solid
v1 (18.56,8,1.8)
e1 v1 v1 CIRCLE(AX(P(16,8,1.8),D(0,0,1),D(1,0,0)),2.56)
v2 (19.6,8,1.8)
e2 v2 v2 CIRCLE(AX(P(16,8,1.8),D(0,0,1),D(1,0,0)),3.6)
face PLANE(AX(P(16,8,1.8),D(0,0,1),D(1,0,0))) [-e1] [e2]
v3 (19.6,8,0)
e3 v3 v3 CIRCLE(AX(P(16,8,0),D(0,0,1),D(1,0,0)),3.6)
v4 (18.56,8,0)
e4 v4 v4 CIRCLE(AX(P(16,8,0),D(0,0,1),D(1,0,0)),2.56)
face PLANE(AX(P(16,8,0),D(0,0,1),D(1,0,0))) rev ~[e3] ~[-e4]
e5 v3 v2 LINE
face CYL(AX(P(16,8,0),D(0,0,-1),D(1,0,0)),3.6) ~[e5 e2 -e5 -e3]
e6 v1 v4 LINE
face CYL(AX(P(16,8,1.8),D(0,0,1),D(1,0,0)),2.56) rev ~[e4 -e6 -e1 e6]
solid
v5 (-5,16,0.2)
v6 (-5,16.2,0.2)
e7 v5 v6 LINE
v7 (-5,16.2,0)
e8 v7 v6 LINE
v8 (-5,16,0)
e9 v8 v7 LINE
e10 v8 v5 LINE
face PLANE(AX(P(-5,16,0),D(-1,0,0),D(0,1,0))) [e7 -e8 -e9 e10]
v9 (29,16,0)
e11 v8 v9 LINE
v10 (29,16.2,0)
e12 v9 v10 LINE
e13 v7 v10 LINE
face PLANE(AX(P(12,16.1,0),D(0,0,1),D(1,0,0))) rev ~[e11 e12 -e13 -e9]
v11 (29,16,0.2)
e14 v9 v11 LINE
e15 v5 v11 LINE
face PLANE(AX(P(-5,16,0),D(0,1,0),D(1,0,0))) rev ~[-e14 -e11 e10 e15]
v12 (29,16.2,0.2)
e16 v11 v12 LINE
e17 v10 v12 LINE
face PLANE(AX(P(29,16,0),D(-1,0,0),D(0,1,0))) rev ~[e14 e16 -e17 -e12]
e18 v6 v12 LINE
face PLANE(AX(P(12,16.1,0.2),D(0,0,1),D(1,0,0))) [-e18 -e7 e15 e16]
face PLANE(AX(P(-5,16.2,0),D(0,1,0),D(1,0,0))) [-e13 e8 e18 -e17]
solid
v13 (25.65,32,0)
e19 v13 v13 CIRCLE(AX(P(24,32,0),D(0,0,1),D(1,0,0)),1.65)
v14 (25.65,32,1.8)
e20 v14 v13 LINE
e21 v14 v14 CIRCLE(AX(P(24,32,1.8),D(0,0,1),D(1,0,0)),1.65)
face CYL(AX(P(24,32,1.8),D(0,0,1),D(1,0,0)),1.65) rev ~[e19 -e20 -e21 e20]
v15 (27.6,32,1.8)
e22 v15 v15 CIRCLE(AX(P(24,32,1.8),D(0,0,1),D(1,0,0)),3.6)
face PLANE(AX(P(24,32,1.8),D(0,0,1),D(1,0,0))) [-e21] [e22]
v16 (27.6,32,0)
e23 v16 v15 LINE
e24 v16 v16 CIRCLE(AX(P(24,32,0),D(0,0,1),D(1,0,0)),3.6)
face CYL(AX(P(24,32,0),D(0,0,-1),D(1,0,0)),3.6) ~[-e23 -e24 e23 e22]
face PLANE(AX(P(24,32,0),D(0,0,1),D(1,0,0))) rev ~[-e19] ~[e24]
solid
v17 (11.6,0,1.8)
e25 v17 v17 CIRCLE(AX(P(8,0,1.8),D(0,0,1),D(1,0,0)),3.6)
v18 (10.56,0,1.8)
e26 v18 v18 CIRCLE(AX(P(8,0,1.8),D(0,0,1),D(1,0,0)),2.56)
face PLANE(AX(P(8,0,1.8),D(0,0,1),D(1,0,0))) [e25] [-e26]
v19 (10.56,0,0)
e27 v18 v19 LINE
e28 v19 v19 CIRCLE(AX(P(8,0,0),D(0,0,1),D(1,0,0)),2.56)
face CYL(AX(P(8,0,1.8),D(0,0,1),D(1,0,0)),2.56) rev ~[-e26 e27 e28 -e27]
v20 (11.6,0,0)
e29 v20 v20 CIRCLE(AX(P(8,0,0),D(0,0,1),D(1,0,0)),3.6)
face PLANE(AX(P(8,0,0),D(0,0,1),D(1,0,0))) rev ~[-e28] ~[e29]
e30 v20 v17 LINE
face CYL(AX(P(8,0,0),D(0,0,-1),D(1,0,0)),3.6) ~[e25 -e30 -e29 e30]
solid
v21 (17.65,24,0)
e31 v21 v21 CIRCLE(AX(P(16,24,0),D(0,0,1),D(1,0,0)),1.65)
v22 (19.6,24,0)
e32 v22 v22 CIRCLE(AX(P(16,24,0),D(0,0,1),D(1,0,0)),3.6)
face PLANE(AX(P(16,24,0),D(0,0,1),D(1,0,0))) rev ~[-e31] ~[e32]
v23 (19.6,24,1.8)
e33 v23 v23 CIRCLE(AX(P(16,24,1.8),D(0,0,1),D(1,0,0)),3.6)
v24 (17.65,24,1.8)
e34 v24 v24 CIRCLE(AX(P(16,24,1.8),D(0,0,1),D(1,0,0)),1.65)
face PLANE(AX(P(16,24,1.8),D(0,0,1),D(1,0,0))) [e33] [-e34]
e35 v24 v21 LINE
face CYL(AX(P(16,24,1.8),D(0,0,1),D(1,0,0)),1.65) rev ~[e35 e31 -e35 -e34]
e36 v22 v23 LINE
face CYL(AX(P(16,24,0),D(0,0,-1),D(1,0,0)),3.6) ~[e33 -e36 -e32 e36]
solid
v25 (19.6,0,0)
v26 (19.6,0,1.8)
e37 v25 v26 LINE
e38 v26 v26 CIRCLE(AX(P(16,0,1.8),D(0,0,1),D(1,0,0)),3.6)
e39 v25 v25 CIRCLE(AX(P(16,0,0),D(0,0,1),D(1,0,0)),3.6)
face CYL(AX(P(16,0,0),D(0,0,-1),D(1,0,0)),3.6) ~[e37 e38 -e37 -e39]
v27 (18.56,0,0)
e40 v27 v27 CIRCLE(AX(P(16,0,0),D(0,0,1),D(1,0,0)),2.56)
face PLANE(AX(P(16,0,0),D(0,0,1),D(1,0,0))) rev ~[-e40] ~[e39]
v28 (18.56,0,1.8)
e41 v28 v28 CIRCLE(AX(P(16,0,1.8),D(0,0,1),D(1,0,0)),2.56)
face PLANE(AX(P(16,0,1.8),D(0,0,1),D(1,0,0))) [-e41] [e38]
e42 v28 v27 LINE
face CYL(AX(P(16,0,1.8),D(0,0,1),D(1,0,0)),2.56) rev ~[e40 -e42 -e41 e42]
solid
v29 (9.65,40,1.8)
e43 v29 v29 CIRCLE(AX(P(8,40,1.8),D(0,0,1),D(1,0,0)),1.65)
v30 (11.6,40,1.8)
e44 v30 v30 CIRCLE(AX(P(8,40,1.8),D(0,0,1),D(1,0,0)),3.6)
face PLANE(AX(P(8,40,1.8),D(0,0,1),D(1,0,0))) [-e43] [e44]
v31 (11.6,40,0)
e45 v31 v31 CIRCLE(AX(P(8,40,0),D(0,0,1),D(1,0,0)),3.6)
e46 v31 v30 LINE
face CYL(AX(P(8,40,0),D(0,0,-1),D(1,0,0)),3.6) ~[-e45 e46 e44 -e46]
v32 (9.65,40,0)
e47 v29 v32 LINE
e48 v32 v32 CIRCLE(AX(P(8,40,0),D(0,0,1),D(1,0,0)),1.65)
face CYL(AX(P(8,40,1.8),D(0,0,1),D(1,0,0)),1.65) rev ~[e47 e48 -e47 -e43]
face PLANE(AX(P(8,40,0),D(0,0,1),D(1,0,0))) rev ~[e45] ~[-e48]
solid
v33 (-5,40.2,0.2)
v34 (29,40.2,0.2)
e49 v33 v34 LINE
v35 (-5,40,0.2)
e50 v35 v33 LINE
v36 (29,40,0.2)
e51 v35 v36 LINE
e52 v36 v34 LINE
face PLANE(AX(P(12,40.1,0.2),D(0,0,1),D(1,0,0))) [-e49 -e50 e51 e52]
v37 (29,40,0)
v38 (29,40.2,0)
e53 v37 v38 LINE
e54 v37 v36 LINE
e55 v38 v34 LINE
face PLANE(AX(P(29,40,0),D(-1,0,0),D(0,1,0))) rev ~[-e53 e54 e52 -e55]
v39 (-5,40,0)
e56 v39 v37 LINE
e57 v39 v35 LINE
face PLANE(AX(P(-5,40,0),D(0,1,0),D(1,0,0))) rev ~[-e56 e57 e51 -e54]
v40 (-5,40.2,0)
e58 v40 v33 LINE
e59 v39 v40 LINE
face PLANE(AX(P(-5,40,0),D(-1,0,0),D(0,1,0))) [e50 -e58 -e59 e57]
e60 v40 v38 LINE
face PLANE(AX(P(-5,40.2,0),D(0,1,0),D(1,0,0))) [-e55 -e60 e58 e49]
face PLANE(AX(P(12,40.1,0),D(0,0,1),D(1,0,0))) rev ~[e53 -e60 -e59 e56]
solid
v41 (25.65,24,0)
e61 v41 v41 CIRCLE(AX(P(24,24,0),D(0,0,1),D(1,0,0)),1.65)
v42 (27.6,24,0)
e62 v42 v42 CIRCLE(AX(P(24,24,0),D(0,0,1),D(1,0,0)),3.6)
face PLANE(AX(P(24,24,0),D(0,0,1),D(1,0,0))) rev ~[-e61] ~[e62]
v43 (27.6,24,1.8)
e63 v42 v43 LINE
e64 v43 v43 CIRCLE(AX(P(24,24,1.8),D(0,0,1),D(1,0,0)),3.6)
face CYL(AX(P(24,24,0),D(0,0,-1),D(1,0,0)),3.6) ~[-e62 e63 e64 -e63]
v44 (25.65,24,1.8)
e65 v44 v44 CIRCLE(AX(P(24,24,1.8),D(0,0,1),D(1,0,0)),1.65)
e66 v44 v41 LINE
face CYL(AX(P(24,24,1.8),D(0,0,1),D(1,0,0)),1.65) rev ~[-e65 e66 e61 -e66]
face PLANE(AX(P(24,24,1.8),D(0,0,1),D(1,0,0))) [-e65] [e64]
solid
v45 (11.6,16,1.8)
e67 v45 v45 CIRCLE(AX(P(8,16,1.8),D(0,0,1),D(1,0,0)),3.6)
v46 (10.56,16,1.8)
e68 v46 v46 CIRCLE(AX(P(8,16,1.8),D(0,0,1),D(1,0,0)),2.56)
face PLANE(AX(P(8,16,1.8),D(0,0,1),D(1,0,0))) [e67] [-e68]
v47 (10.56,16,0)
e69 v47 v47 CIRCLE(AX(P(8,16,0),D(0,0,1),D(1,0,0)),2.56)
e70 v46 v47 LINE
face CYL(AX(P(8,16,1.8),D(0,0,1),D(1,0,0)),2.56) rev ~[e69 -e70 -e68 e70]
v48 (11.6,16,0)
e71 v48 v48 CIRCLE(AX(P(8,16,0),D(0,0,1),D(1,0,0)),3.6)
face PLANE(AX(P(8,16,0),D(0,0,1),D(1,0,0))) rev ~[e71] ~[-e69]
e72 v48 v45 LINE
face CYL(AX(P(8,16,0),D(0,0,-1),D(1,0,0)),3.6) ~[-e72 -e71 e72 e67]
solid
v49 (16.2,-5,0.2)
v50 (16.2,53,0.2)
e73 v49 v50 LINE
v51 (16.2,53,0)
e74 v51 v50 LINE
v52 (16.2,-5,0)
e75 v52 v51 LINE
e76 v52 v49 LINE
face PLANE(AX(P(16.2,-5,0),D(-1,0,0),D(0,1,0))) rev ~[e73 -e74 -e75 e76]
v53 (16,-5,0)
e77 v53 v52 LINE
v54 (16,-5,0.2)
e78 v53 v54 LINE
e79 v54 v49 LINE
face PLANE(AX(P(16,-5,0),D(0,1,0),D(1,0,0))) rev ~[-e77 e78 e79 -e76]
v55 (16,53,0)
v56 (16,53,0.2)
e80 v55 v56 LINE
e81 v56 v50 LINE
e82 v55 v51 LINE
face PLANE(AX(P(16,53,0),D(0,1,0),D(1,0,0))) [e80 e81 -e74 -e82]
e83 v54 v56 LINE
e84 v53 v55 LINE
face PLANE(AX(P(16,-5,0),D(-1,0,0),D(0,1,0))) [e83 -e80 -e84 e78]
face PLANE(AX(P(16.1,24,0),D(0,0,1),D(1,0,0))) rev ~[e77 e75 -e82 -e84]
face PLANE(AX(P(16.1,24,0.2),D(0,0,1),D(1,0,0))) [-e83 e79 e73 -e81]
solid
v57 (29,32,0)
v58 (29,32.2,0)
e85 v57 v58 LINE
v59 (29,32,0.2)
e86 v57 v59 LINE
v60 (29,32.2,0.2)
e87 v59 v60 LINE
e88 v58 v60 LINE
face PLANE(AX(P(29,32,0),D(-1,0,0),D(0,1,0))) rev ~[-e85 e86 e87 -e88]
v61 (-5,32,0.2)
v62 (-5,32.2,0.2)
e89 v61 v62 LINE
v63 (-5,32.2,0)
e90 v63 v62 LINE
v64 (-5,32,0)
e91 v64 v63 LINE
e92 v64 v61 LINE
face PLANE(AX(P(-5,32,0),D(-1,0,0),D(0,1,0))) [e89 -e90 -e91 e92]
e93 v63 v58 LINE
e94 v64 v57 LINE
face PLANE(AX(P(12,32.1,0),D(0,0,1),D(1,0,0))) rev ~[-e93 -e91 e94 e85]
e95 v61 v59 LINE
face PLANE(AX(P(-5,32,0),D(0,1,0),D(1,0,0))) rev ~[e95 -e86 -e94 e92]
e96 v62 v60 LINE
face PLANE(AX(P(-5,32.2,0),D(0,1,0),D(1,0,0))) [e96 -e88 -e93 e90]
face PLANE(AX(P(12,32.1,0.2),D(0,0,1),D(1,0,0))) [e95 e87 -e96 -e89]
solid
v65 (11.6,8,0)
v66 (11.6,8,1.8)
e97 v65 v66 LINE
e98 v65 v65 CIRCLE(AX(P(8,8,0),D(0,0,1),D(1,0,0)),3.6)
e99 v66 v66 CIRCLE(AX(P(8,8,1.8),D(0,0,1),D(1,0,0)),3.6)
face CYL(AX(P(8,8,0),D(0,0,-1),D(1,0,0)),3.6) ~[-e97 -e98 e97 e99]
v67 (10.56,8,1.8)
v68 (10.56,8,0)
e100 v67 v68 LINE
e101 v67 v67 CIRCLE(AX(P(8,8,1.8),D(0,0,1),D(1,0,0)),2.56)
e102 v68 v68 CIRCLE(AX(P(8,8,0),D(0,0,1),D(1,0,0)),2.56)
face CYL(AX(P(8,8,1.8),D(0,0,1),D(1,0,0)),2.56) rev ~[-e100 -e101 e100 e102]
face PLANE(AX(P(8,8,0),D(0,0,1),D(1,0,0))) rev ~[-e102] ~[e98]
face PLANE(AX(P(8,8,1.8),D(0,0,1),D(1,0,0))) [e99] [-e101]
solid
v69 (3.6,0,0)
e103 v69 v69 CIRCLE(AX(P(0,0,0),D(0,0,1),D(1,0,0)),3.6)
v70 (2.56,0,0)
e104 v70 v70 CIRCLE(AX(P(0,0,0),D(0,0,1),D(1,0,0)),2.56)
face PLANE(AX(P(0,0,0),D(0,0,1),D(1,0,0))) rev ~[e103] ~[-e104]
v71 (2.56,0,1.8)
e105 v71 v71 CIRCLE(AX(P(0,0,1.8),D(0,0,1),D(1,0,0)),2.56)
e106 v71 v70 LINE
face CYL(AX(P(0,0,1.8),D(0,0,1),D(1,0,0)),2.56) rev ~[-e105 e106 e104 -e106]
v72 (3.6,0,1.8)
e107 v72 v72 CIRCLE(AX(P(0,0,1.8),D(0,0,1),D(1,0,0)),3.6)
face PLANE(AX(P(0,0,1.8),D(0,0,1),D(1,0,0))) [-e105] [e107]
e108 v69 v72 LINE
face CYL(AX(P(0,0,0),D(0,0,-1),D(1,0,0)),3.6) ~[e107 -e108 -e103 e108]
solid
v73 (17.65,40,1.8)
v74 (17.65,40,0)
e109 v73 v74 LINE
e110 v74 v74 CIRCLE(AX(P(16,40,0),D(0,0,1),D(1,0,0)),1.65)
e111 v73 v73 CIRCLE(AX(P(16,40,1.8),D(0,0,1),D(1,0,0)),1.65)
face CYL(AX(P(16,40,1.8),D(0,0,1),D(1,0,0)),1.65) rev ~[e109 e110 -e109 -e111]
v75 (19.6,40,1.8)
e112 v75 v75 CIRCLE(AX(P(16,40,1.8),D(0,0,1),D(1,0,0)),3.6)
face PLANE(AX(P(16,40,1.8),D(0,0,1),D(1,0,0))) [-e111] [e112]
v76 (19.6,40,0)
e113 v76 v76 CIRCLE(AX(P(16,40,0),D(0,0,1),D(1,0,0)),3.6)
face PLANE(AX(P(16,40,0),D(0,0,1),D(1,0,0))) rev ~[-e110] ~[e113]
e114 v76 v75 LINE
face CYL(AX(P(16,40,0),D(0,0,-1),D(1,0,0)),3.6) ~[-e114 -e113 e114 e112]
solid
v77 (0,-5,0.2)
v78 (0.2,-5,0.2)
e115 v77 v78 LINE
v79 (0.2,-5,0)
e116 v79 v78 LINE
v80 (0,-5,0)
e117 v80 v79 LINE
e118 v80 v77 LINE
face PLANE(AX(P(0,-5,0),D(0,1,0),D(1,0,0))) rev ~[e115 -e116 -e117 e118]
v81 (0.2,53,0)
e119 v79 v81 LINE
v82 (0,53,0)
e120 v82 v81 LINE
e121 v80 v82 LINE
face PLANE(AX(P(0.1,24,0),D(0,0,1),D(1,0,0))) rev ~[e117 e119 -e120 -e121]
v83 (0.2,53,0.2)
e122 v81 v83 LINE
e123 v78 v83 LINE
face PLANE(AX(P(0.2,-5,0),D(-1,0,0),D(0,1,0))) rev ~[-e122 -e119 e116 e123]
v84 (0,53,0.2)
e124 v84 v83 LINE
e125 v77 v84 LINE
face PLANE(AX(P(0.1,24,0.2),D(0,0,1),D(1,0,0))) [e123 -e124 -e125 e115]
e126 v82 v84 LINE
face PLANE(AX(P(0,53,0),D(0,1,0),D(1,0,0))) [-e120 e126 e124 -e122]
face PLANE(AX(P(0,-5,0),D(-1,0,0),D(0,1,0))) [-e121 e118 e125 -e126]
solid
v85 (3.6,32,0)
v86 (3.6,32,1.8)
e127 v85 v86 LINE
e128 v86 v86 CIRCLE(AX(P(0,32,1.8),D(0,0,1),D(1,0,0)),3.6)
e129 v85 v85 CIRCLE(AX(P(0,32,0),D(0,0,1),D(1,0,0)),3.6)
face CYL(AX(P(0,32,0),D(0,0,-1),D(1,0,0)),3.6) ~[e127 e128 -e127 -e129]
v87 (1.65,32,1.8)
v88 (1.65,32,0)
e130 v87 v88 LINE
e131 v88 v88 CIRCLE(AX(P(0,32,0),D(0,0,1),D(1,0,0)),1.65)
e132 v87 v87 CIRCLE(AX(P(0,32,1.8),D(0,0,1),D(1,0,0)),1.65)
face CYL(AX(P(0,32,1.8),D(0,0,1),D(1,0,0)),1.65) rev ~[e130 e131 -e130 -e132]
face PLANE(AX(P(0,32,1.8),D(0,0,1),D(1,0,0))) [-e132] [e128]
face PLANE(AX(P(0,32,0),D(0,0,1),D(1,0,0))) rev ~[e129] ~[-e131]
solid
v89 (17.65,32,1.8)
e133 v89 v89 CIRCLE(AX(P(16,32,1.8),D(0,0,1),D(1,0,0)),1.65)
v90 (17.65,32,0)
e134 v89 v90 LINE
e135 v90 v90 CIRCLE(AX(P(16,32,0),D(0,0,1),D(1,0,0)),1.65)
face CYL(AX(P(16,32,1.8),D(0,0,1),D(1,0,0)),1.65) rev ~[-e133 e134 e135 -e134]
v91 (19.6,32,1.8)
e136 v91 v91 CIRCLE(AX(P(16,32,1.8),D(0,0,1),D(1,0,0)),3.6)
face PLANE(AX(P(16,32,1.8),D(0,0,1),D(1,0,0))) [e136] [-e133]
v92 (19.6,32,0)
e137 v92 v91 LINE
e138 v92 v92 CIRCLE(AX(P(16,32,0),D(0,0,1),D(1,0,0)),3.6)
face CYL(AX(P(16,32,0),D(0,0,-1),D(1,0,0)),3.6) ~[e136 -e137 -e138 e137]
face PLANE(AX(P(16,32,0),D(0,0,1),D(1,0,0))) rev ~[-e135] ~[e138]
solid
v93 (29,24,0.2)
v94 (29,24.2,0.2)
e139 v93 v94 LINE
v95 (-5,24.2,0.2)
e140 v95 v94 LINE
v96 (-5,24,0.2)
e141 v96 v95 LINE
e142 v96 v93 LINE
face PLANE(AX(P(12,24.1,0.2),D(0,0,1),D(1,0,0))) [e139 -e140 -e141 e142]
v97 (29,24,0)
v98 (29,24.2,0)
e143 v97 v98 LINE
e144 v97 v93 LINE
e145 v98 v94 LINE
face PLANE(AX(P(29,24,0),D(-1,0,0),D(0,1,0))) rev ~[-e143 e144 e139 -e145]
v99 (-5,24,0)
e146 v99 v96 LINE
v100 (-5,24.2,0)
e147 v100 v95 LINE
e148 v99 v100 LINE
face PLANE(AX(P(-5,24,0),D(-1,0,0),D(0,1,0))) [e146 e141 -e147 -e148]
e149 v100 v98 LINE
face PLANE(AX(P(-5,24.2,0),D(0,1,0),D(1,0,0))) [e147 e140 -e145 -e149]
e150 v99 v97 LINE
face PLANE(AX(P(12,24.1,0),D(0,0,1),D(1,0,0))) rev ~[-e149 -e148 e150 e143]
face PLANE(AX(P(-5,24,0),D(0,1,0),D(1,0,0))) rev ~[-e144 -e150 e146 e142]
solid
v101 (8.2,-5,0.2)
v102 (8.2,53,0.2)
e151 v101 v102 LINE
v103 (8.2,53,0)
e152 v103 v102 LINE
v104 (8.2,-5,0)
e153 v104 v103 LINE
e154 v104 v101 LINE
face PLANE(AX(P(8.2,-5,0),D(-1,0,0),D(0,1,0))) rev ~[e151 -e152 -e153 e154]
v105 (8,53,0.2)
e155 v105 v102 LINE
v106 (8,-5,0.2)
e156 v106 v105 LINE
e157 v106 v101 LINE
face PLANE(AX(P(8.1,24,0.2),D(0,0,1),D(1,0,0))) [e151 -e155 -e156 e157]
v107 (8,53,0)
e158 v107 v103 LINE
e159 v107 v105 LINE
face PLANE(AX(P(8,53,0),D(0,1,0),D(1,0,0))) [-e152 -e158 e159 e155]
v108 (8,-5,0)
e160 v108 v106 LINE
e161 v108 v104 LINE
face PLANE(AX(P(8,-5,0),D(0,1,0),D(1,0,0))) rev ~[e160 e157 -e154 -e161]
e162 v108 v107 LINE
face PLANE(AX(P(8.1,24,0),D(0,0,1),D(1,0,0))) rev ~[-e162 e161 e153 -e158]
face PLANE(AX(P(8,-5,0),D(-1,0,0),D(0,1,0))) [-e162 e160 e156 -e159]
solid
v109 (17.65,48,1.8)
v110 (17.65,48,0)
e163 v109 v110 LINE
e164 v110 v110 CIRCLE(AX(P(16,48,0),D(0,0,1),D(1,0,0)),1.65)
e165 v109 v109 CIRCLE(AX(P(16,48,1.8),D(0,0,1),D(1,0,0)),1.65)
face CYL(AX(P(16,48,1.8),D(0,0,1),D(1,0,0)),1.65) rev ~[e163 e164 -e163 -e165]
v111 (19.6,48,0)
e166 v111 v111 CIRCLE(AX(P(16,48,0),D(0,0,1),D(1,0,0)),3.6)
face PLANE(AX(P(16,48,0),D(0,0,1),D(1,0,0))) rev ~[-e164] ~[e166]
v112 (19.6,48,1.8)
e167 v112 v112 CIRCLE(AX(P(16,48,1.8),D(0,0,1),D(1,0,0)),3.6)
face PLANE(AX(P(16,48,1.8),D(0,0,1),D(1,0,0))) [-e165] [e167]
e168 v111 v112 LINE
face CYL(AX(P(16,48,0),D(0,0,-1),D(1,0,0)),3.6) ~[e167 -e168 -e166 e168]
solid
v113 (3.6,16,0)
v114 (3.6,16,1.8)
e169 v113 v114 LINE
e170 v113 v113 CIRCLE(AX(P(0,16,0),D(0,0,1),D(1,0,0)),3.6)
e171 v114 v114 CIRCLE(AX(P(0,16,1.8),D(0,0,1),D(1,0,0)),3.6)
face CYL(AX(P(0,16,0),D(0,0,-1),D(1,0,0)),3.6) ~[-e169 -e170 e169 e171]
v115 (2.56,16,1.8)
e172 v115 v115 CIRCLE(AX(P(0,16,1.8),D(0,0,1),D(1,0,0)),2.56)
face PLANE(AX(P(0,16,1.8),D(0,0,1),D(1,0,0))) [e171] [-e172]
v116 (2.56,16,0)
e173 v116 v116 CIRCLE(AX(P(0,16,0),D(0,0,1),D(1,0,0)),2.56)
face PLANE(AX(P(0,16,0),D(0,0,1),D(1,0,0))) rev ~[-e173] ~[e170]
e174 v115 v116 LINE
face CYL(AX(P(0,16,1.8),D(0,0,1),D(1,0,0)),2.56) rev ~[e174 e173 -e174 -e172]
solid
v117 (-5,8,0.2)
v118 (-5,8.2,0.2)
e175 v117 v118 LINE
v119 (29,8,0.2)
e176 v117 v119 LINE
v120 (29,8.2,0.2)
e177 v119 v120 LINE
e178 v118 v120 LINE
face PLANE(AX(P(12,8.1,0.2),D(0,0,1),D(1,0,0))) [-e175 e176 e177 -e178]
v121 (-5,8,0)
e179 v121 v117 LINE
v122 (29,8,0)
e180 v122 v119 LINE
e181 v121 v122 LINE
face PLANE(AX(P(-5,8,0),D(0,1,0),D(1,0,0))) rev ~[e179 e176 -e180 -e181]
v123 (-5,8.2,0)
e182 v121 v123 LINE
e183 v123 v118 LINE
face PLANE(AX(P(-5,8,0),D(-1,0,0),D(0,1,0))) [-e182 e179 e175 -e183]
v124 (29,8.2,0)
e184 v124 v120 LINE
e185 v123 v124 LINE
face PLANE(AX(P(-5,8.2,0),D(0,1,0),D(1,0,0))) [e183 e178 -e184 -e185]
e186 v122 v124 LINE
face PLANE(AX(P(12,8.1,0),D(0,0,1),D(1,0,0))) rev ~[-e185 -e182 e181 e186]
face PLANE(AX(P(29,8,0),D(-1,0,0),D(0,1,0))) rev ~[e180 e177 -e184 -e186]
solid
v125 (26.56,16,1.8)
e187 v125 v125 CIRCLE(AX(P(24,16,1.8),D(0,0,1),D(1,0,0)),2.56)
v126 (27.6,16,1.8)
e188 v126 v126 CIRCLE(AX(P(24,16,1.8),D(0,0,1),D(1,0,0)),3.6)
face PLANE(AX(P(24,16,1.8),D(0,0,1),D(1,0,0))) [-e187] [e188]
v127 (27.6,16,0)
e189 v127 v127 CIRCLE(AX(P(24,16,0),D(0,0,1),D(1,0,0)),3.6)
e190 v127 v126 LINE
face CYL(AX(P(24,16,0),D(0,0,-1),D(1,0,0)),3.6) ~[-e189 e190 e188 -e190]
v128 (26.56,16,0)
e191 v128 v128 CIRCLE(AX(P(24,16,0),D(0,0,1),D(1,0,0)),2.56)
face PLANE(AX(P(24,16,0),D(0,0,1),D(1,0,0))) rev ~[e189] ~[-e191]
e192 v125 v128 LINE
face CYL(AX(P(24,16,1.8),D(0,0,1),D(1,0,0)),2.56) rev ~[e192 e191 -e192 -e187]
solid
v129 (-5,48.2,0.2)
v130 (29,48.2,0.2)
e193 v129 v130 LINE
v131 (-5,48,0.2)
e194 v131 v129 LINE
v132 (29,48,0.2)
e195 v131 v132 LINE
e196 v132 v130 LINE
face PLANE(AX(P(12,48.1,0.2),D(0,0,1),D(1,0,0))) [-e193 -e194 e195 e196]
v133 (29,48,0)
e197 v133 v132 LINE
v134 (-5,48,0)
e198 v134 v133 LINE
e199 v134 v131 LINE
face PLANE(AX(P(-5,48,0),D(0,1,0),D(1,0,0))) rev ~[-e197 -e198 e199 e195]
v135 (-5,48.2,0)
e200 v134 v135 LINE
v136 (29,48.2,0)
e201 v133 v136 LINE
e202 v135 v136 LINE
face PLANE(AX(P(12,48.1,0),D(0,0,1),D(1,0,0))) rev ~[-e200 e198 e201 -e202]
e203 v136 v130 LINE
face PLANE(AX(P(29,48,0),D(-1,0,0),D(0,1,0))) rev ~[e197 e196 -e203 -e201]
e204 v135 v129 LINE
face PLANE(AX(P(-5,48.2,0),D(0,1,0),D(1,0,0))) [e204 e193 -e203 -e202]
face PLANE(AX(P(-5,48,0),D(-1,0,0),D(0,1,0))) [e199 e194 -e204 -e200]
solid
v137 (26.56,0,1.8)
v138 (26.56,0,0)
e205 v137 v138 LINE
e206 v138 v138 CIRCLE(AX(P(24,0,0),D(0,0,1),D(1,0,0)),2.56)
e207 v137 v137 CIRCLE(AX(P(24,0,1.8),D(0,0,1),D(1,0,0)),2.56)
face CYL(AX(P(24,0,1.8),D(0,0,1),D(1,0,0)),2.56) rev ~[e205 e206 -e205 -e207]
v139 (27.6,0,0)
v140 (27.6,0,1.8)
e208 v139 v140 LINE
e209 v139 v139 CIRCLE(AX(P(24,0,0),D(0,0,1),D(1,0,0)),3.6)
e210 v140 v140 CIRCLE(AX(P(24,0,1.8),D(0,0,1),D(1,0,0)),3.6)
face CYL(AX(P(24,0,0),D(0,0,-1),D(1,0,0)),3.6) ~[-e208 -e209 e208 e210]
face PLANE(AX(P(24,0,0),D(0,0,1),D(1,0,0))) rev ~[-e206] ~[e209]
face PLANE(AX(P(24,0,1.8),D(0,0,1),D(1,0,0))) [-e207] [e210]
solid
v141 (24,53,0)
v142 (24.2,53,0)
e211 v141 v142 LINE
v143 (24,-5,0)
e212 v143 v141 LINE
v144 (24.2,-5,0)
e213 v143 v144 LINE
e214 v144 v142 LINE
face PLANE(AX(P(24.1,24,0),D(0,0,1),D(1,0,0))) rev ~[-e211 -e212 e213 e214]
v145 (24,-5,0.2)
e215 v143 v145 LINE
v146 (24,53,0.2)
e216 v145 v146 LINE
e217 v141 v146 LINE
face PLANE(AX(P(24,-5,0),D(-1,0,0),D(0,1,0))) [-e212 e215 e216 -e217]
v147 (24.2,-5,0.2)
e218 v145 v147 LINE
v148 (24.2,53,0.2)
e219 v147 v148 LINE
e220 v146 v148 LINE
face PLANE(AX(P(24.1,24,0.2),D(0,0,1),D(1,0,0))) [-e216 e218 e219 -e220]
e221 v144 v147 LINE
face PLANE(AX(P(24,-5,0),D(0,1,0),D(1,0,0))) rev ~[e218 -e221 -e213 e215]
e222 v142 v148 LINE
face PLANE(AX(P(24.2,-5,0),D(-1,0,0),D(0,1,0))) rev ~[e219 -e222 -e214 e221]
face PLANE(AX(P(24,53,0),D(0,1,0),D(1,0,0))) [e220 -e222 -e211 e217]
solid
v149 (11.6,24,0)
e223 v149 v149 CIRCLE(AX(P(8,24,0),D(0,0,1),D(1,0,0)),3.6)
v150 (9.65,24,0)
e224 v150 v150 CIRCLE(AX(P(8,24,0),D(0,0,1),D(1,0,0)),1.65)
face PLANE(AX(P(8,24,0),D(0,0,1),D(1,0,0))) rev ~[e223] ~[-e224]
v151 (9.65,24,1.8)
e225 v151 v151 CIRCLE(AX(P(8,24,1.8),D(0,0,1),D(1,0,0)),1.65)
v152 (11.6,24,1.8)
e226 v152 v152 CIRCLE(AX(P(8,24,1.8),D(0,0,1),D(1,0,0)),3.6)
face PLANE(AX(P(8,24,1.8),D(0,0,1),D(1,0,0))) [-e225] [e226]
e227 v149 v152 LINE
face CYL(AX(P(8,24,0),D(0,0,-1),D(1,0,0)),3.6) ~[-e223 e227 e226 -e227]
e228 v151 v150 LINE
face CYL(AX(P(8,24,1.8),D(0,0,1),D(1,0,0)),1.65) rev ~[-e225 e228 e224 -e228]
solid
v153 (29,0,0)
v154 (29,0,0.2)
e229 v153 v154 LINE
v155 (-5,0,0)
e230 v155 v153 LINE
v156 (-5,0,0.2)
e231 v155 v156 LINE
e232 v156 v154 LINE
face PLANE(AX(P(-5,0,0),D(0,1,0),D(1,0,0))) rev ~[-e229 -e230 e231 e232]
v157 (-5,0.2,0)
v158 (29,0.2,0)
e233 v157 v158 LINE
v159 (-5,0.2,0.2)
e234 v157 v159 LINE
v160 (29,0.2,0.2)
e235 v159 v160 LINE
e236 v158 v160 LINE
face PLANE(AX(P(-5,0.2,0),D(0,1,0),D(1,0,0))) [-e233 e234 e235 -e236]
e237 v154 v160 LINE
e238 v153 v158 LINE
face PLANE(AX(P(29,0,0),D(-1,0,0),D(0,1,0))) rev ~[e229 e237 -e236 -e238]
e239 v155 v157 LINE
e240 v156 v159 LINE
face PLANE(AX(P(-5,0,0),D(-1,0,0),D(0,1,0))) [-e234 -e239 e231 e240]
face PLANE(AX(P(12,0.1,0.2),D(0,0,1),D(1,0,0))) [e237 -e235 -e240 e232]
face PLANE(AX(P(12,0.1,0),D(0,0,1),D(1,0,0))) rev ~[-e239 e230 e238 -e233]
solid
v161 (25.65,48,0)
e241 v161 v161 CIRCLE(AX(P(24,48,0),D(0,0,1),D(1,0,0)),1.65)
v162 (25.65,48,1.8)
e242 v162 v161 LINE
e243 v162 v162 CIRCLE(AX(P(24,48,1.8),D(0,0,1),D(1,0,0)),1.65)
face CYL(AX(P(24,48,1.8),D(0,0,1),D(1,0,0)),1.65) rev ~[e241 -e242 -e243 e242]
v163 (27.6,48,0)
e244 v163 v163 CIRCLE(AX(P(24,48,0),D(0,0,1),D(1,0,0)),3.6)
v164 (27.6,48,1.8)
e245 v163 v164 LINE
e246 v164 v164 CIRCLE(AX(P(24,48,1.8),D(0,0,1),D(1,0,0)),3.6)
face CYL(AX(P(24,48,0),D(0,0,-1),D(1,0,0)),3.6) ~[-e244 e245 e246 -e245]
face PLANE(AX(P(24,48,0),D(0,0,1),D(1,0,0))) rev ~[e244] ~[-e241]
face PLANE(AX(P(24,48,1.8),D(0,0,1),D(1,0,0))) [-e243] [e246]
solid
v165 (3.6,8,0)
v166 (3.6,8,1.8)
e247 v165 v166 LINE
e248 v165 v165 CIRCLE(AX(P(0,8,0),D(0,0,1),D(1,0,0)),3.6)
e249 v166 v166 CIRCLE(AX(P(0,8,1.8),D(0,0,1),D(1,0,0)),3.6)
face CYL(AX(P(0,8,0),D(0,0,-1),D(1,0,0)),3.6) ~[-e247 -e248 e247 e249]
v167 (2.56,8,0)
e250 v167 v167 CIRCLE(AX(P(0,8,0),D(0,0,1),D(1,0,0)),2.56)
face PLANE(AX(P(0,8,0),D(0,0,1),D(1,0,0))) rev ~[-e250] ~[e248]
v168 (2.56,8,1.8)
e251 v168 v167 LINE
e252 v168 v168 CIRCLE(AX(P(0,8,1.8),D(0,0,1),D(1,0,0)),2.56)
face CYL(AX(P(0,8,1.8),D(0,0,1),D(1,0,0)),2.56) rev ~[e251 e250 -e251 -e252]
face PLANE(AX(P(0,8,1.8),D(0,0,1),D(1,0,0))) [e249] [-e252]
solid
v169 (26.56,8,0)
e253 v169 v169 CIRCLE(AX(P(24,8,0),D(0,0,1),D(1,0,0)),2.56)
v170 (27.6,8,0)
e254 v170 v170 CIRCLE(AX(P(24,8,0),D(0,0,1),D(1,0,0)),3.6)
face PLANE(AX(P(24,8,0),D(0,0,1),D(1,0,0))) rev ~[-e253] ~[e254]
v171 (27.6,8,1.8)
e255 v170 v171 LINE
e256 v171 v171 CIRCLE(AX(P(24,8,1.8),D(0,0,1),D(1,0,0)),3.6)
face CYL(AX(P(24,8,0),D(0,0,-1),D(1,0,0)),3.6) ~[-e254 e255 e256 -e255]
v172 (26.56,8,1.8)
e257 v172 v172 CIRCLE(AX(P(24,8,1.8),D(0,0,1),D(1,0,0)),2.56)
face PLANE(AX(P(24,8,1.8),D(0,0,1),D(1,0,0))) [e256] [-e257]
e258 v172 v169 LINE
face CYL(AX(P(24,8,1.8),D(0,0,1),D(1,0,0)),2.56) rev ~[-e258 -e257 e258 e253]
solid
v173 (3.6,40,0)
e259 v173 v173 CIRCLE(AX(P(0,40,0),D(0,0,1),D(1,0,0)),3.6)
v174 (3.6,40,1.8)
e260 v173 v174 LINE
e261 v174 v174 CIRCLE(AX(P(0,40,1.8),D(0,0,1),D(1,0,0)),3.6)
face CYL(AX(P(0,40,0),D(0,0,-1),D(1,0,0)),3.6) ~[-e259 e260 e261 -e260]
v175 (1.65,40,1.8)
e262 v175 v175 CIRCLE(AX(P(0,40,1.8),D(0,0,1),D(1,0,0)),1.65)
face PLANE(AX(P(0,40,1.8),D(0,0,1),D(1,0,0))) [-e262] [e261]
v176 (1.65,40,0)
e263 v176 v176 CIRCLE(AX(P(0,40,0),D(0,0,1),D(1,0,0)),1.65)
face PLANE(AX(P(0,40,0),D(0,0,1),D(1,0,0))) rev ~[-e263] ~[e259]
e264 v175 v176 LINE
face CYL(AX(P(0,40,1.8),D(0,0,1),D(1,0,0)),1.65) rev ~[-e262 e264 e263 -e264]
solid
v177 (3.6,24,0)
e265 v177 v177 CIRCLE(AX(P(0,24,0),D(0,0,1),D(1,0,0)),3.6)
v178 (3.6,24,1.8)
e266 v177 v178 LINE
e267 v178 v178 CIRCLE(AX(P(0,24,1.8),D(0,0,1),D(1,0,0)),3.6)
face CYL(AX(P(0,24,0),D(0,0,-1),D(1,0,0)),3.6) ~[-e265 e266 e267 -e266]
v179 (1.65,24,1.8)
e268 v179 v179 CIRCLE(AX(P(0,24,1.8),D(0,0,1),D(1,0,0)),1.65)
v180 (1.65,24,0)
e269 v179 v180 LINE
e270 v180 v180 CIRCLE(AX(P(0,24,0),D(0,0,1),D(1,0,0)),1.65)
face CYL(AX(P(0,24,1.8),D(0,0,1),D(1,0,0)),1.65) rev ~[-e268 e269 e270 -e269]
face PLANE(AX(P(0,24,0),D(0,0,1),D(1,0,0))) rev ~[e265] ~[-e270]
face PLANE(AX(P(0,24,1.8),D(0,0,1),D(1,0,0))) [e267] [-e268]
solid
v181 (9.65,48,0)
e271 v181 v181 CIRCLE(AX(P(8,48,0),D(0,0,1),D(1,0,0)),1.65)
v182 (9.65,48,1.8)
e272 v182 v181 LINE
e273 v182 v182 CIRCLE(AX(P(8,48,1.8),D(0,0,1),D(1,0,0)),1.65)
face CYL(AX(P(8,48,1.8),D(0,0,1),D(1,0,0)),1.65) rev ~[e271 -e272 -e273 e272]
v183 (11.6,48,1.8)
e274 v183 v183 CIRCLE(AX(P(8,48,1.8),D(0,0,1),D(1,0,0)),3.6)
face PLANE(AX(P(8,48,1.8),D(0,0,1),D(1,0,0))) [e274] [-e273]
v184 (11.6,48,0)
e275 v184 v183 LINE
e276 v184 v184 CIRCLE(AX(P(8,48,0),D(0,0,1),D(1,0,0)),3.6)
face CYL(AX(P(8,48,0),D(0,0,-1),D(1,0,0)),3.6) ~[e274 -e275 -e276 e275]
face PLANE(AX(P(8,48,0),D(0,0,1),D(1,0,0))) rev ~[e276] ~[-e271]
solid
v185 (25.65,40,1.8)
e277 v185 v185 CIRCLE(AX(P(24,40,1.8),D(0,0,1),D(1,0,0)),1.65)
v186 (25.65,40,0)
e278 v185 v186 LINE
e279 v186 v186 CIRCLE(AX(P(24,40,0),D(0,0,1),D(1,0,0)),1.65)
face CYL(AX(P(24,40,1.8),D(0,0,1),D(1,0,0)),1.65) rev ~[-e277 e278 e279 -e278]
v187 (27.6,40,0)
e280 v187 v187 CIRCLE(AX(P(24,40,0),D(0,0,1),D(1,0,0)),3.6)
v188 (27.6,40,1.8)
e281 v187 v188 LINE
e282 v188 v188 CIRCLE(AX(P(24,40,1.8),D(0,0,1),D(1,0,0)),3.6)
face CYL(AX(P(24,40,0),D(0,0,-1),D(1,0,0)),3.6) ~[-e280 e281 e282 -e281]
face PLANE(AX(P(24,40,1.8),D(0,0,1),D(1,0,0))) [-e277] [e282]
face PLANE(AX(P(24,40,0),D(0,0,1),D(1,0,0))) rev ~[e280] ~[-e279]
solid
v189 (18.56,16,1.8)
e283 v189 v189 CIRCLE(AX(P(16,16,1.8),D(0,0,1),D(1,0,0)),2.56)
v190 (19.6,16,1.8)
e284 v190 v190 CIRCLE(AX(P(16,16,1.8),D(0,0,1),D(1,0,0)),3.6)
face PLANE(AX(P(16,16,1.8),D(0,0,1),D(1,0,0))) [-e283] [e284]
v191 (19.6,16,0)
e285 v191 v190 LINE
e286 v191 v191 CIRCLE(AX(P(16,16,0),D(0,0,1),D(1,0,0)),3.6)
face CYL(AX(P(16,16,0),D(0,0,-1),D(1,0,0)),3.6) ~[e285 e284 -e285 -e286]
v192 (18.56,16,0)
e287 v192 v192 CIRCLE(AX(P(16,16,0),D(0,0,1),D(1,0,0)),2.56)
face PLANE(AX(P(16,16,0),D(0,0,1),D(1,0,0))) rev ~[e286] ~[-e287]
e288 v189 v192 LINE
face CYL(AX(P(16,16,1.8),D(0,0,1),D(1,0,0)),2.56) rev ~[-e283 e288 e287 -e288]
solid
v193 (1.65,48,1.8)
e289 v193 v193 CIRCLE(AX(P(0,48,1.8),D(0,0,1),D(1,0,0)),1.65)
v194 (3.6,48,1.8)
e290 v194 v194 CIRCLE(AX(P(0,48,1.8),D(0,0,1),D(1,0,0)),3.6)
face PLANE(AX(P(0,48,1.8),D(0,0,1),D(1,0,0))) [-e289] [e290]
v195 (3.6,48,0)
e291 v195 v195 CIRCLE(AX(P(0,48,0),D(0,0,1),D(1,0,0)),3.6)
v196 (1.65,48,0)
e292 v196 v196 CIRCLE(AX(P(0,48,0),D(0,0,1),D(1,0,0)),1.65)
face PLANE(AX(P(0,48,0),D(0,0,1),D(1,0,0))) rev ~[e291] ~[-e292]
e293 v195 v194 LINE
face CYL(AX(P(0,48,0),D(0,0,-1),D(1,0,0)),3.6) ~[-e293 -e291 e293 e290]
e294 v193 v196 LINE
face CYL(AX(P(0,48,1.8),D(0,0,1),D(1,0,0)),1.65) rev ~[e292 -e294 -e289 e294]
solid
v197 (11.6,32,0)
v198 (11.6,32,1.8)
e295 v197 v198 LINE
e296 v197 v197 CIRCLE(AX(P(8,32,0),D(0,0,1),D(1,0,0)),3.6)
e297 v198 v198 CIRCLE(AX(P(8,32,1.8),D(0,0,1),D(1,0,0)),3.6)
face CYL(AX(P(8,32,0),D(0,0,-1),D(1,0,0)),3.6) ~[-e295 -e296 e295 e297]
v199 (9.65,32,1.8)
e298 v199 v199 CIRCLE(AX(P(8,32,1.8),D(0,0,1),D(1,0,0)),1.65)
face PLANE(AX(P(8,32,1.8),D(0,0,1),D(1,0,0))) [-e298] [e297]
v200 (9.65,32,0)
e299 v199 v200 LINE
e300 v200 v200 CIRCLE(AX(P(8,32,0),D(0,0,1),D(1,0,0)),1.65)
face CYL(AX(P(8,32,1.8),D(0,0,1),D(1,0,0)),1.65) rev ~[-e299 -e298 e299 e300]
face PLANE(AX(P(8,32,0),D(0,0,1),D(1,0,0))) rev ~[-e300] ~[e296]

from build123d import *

# Parameters (mm, degrees)
CYLINDER_R        = 3.6
CYLINDER_DEPTH    = 1.8
SKETCH_R          = 2.56
POCKET_DEPTH      = 5
CYLINDER001_R     = 3.6
CYLINDER001_DEPTH = 1.8
SKETCH001_R       = 2.56
POCKET001_DEPTH   = 5
CYLINDER002_R     = 3.6
CYLINDER002_DEPTH = 1.8
SKETCH002_R       = 2.56
POCKET002_DEPTH   = 5
CYLINDER003_R     = 3.6
CYLINDER003_DEPTH = 1.8
SKETCH003_R       = 2.56
POCKET003_DEPTH   = 5
CYLINDER004_R     = 3.6
CYLINDER004_DEPTH = 1.8
SKETCH004_R       = 2.56
POCKET004_DEPTH   = 5
CYLINDER005_R     = 3.6
CYLINDER005_DEPTH = 1.8
SKETCH005_R       = 2.56
POCKET005_DEPTH   = 5
CYLINDER006_R     = 3.6
CYLINDER006_DEPTH = 1.8
SKETCH006_R       = 2.56
POCKET006_DEPTH   = 5
CYLINDER007_R     = 3.6
CYLINDER007_DEPTH = 1.8
SKETCH007_R       = 2.56
POCKET007_DEPTH   = 5
CYLINDER008_R     = 3.6
CYLINDER008_DEPTH = 1.8
SKETCH008_R       = 2.56
POCKET008_DEPTH   = 5
CYLINDER009_R     = 3.6
CYLINDER009_DEPTH = 1.8
SKETCH009_R       = 2.56
POCKET009_DEPTH   = 5
CYLINDER010_R     = 3.6
CYLINDER010_DEPTH = 1.8
SKETCH010_R       = 2.56
POCKET010_DEPTH   = 5
CYLINDER011_R     = 3.6
CYLINDER011_DEPTH = 1.8
SKETCH011_R       = 2.56
POCKET011_DEPTH   = 5
CYLINDER012_R     = 3.6
CYLINDER012_DEPTH = 1.8
SKETCH012_R       = 1.65
POCKET012_DEPTH   = 5
CYLINDER013_R     = 3.6
CYLINDER013_DEPTH = 1.8
SKETCH013_R       = 1.65
POCKET013_DEPTH   = 5
CYLINDER014_R     = 3.6
CYLINDER014_DEPTH = 1.8
SKETCH014_R       = 1.65
POCKET014_DEPTH   = 5
CYLINDER015_R     = 3.6
CYLINDER015_DEPTH = 1.8
SKETCH015_R       = 1.65
POCKET015_DEPTH   = 5
CYLINDER016_R     = 3.6
CYLINDER016_DEPTH = 1.8
SKETCH016_R       = 1.65
POCKET016_DEPTH   = 5
CYLINDER017_R     = 3.6
CYLINDER017_DEPTH = 1.8
SKETCH017_R       = 1.65
POCKET017_DEPTH   = 5
CYLINDER018_R     = 3.6
CYLINDER018_DEPTH = 1.8
SKETCH018_R       = 1.65
POCKET018_DEPTH   = 5
CYLINDER019_R     = 3.6
CYLINDER019_DEPTH = 1.8
SKETCH019_R       = 1.65
POCKET019_DEPTH   = 5
CYLINDER020_R     = 3.6
CYLINDER020_DEPTH = 1.8
SKETCH020_R       = 1.65
POCKET020_DEPTH   = 5
CYLINDER021_R     = 3.6
CYLINDER021_DEPTH = 1.8
SKETCH021_R       = 1.65
POCKET021_DEPTH   = 5
CYLINDER022_R     = 3.6
CYLINDER022_DEPTH = 1.8
SKETCH022_R       = 1.65
POCKET022_DEPTH   = 5
CYLINDER023_R     = 3.6
CYLINDER023_DEPTH = 1.8
SKETCH023_R       = 1.65
POCKET023_DEPTH   = 5
CYLINDER024_R     = 3.6
CYLINDER024_DEPTH = 1.8
SKETCH024_R       = 1.65
POCKET024_DEPTH   = 5
CYLINDER025_R     = 3.6
CYLINDER025_DEPTH = 1.8
SKETCH025_R       = 1.65
POCKET025_DEPTH   = 5
CYLINDER026_R     = 3.6
CYLINDER026_DEPTH = 1.8
SKETCH026_R       = 1.65
POCKET026_DEPTH   = 5
CYLINDER027_R     = 3.6
CYLINDER027_DEPTH = 1.8
SKETCH027_R       = 1.65
POCKET027_DEPTH   = 5
BOX_W             = 0.2
BOX_H             = 58
BOX_DEPTH         = 0.2
BOX001_W          = 0.2
BOX001_H          = 58
BOX001_DEPTH      = 0.2
BOX002_W          = 0.2
BOX002_H          = 58
BOX002_DEPTH      = 0.2
BOX003_W          = 0.2
BOX003_H          = 58
BOX003_DEPTH      = 0.2
BOX004_W          = 34
BOX004_H          = 0.2
BOX004_DEPTH      = 0.2
BOX005_W          = 34
BOX005_H          = 0.2
BOX005_DEPTH      = 0.2
BOX006_W          = 34
BOX006_H          = 0.2
BOX006_DEPTH      = 0.2
BOX007_W          = 34
BOX007_H          = 0.2
BOX007_DEPTH      = 0.2
BOX008_W          = 34
BOX008_H          = 0.2
BOX008_DEPTH      = 0.2
BOX009_W          = 34
BOX009_H          = 0.2
BOX009_DEPTH      = 0.2
BOX010_W          = 34
BOX010_H          = 0.2
BOX010_DEPTH      = 0.2


with BuildPart() as pocket:
    # Cylinder → Cylinder (new body)
    with BuildSketch(Plane.XY):
        Circle(CYLINDER_R)
    extrude(amount=CYLINDER_DEPTH)

    # Sketch → Pocket (cut)
    with BuildSketch(Plane.XY.offset(1.8)):
        Circle(SKETCH_R)
    extrude(amount=-POCKET_DEPTH, mode=Mode.SUBTRACT)


with BuildPart() as pocket001:
    # Cylinder001 → Cylinder001 (new body)
    with BuildSketch(Plane(origin=(8, 8, 0), x_dir=(1, 0, 0), z_dir=(0, 0, 1))):
        Circle(CYLINDER001_R)
    extrude(amount=CYLINDER001_DEPTH)

    # Sketch001 → Pocket001 (cut)
    with BuildSketch(Plane(origin=(8, 8, 1.8), x_dir=(1, 0, 0), z_dir=(0, 0, 1))):
        Circle(SKETCH001_R)
    extrude(amount=-POCKET001_DEPTH, mode=Mode.SUBTRACT)


with BuildPart() as pocket002:
    # Cylinder002 → Cylinder002 (new body)
    with BuildSketch(Plane(origin=(8, 0, 0), x_dir=(1, 0, 0), z_dir=(0, 0, 1))):
        Circle(CYLINDER002_R)
    extrude(amount=CYLINDER002_DEPTH)

    # Sketch002 → Pocket002 (cut)
    with BuildSketch(Plane(origin=(8, 0, 1.8), x_dir=(1, 0, 0), z_dir=(0, 0, 1))):
        Circle(SKETCH002_R)
    extrude(amount=-POCKET002_DEPTH, mode=Mode.SUBTRACT)


with BuildPart() as pocket003:
    # Cylinder003 → Cylinder003 (new body)
    with BuildSketch(Plane(origin=(0, 8, 0), x_dir=(1, 0, 0), z_dir=(0, 0, 1))):
        Circle(CYLINDER003_R)
    extrude(amount=CYLINDER003_DEPTH)

    # Sketch003 → Pocket003 (cut)
    with BuildSketch(Plane(origin=(0, 8, 1.8), x_dir=(1, 0, 0), z_dir=(0, 0, 1))):
        Circle(SKETCH003_R)
    extrude(amount=-POCKET003_DEPTH, mode=Mode.SUBTRACT)


with BuildPart() as pocket004:
    # Cylinder004 → Cylinder004 (new body)
    with BuildSketch(Plane(origin=(0, 16, 0), x_dir=(1, 0, 0), z_dir=(0, 0, 1))):
        Circle(CYLINDER004_R)
    extrude(amount=CYLINDER004_DEPTH)

    # Sketch004 → Pocket004 (cut)
    with BuildSketch(Plane(origin=(0, 16, 1.8), x_dir=(1, 0, 0), z_dir=(0, 0, 1))):
        Circle(SKETCH004_R)
    extrude(amount=-POCKET004_DEPTH, mode=Mode.SUBTRACT)


with BuildPart() as pocket005:
    # Cylinder005 → Cylinder005 (new body)
    with BuildSketch(Plane(origin=(8, 16, 0), x_dir=(1, 0, 0), z_dir=(0, 0, 1))):
        Circle(CYLINDER005_R)
    extrude(amount=CYLINDER005_DEPTH)

    # Sketch005 → Pocket005 (cut)
    with BuildSketch(Plane(origin=(8, 16, 1.8), x_dir=(1, 0, 0), z_dir=(0, 0, 1))):
        Circle(SKETCH005_R)
    extrude(amount=-POCKET005_DEPTH, mode=Mode.SUBTRACT)


with BuildPart() as pocket006:
    # Cylinder006 → Cylinder006 (new body)
    with BuildSketch(Plane(origin=(16, 8, 0), x_dir=(1, 0, 0), z_dir=(0, 0, 1))):
        Circle(CYLINDER006_R)
    extrude(amount=CYLINDER006_DEPTH)

    # Sketch006 → Pocket006 (cut)
    with BuildSketch(Plane(origin=(16, 8, 1.8), x_dir=(1, 0, 0), z_dir=(0, 0, 1))):
        Circle(SKETCH006_R)
    extrude(amount=-POCKET006_DEPTH, mode=Mode.SUBTRACT)


with BuildPart() as pocket007:
    # Cylinder007 → Cylinder007 (new body)
    with BuildSketch(Plane(origin=(16, 0, 0), x_dir=(1, 0, 0), z_dir=(0, 0, 1))):
        Circle(CYLINDER007_R)
    extrude(amount=CYLINDER007_DEPTH)

    # Sketch007 → Pocket007 (cut)
    with BuildSketch(Plane(origin=(16, 0, 1.8), x_dir=(1, 0, 0), z_dir=(0, 0, 1))):
        Circle(SKETCH007_R)
    extrude(amount=-POCKET007_DEPTH, mode=Mode.SUBTRACT)


with BuildPart() as pocket008:
    # Cylinder008 → Cylinder008 (new body)
    with BuildSketch(Plane(origin=(16, 16, 0), x_dir=(1, 0, 0), z_dir=(0, 0, 1))):
        Circle(CYLINDER008_R)
    extrude(amount=CYLINDER008_DEPTH)

    # Sketch008 → Pocket008 (cut)
    with BuildSketch(Plane(origin=(16, 16, 1.8), x_dir=(1, 0, 0), z_dir=(0, 0, 1))):
        Circle(SKETCH008_R)
    extrude(amount=-POCKET008_DEPTH, mode=Mode.SUBTRACT)


with BuildPart() as pocket009:
    # Cylinder009 → Cylinder009 (new body)
    with BuildSketch(Plane(origin=(24, 0, 0), x_dir=(1, 0, 0), z_dir=(0, 0, 1))):
        Circle(CYLINDER009_R)
    extrude(amount=CYLINDER009_DEPTH)

    # Sketch009 → Pocket009 (cut)
    with BuildSketch(Plane(origin=(24, 0, 1.8), x_dir=(1, 0, 0), z_dir=(0, 0, 1))):
        Circle(SKETCH009_R)
    extrude(amount=-POCKET009_DEPTH, mode=Mode.SUBTRACT)


with BuildPart() as pocket010:
    # Cylinder010 → Cylinder010 (new body)
    with BuildSketch(Plane(origin=(24, 8, 0), x_dir=(1, 0, 0), z_dir=(0, 0, 1))):
        Circle(CYLINDER010_R)
    extrude(amount=CYLINDER010_DEPTH)

    # Sketch010 → Pocket010 (cut)
    with BuildSketch(Plane(origin=(24, 8, 1.8), x_dir=(1, 0, 0), z_dir=(0, 0, 1))):
        Circle(SKETCH010_R)
    extrude(amount=-POCKET010_DEPTH, mode=Mode.SUBTRACT)


with BuildPart() as pocket011:
    # Cylinder011 → Cylinder011 (new body)
    with BuildSketch(Plane(origin=(24, 16, 0), x_dir=(1, 0, 0), z_dir=(0, 0, 1))):
        Circle(CYLINDER011_R)
    extrude(amount=CYLINDER011_DEPTH)

    # Sketch011 → Pocket011 (cut)
    with BuildSketch(Plane(origin=(24, 16, 1.8), x_dir=(1, 0, 0), z_dir=(0, 0, 1))):
        Circle(SKETCH011_R)
    extrude(amount=-POCKET011_DEPTH, mode=Mode.SUBTRACT)


with BuildPart() as motorpocket:
    # Cylinder012 → Cylinder012 (new body)
    with BuildSketch(Plane(origin=(0, 24, 0), x_dir=(1, 0, 0), z_dir=(0, 0, 1))):
        Circle(CYLINDER012_R)
    extrude(amount=CYLINDER012_DEPTH)

    # Sketch012 → Pocket012 (cut)
    with BuildSketch(Plane(origin=(0, 24, 1.8), x_dir=(1, 0, 0), z_dir=(0, 0, 1))):
        Circle(SKETCH012_R)
    extrude(amount=-POCKET012_DEPTH, mode=Mode.SUBTRACT)


with BuildPart() as motorpocket001:
    # Cylinder013 → Cylinder013 (new body)
    with BuildSketch(Plane(origin=(8, 24, 0), x_dir=(1, 0, 0), z_dir=(0, 0, 1))):
        Circle(CYLINDER013_R)
    extrude(amount=CYLINDER013_DEPTH)

    # Sketch013 → Pocket013 (cut)
    with BuildSketch(Plane(origin=(8, 24, 1.8), x_dir=(1, 0, 0), z_dir=(0, 0, 1))):
        Circle(SKETCH013_R)
    extrude(amount=-POCKET013_DEPTH, mode=Mode.SUBTRACT)


with BuildPart() as motorpocket002:
    # Cylinder014 → Cylinder014 (new body)
    with BuildSketch(Plane(origin=(16, 24, 0), x_dir=(1, 0, 0), z_dir=(0, 0, 1))):
        Circle(CYLINDER014_R)
    extrude(amount=CYLINDER014_DEPTH)

    # Sketch014 → Pocket014 (cut)
    with BuildSketch(Plane(origin=(16, 24, 1.8), x_dir=(1, 0, 0), z_dir=(0, 0, 1))):
        Circle(SKETCH014_R)
    extrude(amount=-POCKET014_DEPTH, mode=Mode.SUBTRACT)


with BuildPart() as motorpocket003:
    # Cylinder015 → Cylinder015 (new body)
    with BuildSketch(Plane(origin=(24, 24, 0), x_dir=(1, 0, 0), z_dir=(0, 0, 1))):
        Circle(CYLINDER015_R)
    extrude(amount=CYLINDER015_DEPTH)

    # Sketch015 → Pocket015 (cut)
    with BuildSketch(Plane(origin=(24, 24, 1.8), x_dir=(1, 0, 0), z_dir=(0, 0, 1))):
        Circle(SKETCH015_R)
    extrude(amount=-POCKET015_DEPTH, mode=Mode.SUBTRACT)


with BuildPart() as motorpocket004:
    # Cylinder016 → Cylinder016 (new body)
    with BuildSketch(Plane(origin=(24, 32, 0), x_dir=(1, 0, 0), z_dir=(0, 0, 1))):
        Circle(CYLINDER016_R)
    extrude(amount=CYLINDER016_DEPTH)

    # Sketch016 → Pocket016 (cut)
    with BuildSketch(Plane(origin=(24, 32, 1.8), x_dir=(1, 0, 0), z_dir=(0, 0, 1))):
        Circle(SKETCH016_R)
    extrude(amount=-POCKET016_DEPTH, mode=Mode.SUBTRACT)


with BuildPart() as motorpocket005:
    # Cylinder017 → Cylinder017 (new body)
    with BuildSketch(Plane(origin=(16, 32, 0), x_dir=(1, 0, 0), z_dir=(0, 0, 1))):
        Circle(CYLINDER017_R)
    extrude(amount=CYLINDER017_DEPTH)

    # Sketch017 → Pocket017 (cut)
    with BuildSketch(Plane(origin=(16, 32, 1.8), x_dir=(1, 0, 0), z_dir=(0, 0, 1))):
        Circle(SKETCH017_R)
    extrude(amount=-POCKET017_DEPTH, mode=Mode.SUBTRACT)


with BuildPart() as motorpocket006:
    # Cylinder018 → Cylinder018 (new body)
    with BuildSketch(Plane(origin=(0, 32, 0), x_dir=(1, 0, 0), z_dir=(0, 0, 1))):
        Circle(CYLINDER018_R)
    extrude(amount=CYLINDER018_DEPTH)

    # Sketch018 → Pocket018 (cut)
    with BuildSketch(Plane(origin=(0, 32, 1.8), x_dir=(1, 0, 0), z_dir=(0, 0, 1))):
        Circle(SKETCH018_R)
    extrude(amount=-POCKET018_DEPTH, mode=Mode.SUBTRACT)


with BuildPart() as motorpocket007:
    # Cylinder019 → Cylinder019 (new body)
    with BuildSketch(Plane(origin=(8, 32, 0), x_dir=(1, 0, 0), z_dir=(0, 0, 1))):
        Circle(CYLINDER019_R)
    extrude(amount=CYLINDER019_DEPTH)

    # Sketch019 → Pocket019 (cut)
    with BuildSketch(Plane(origin=(8, 32, 1.8), x_dir=(1, 0, 0), z_dir=(0, 0, 1))):
        Circle(SKETCH019_R)
    extrude(amount=-POCKET019_DEPTH, mode=Mode.SUBTRACT)


with BuildPart() as motorpocket008:
    # Cylinder020 → Cylinder020 (new body)
    with BuildSketch(Plane(origin=(24, 40, 0), x_dir=(1, 0, 0), z_dir=(0, 0, 1))):
        Circle(CYLINDER020_R)
    extrude(amount=CYLINDER020_DEPTH)

    # Sketch020 → Pocket020 (cut)
    with BuildSketch(Plane(origin=(24, 40, 1.8), x_dir=(1, 0, 0), z_dir=(0, 0, 1))):
        Circle(SKETCH020_R)
    extrude(amount=-POCKET020_DEPTH, mode=Mode.SUBTRACT)


with BuildPart() as motorpocket009:
    # Cylinder021 → Cylinder021 (new body)
    with BuildSketch(Plane(origin=(16, 40, 0), x_dir=(1, 0, 0), z_dir=(0, 0, 1))):
        Circle(CYLINDER021_R)
    extrude(amount=CYLINDER021_DEPTH)

    # Sketch021 → Pocket021 (cut)
    with BuildSketch(Plane(origin=(16, 40, 1.8), x_dir=(1, 0, 0), z_dir=(0, 0, 1))):
        Circle(SKETCH021_R)
    extrude(amount=-POCKET021_DEPTH, mode=Mode.SUBTRACT)


with BuildPart() as motorpocket010:
    # Cylinder022 → Cylinder022 (new body)
    with BuildSketch(Plane(origin=(0, 40, 0), x_dir=(1, 0, 0), z_dir=(0, 0, 1))):
        Circle(CYLINDER022_R)
    extrude(amount=CYLINDER022_DEPTH)

    # Sketch022 → Pocket022 (cut)
    with BuildSketch(Plane(origin=(0, 40, 1.8), x_dir=(1, 0, 0), z_dir=(0, 0, 1))):
        Circle(SKETCH022_R)
    extrude(amount=-POCKET022_DEPTH, mode=Mode.SUBTRACT)


with BuildPart() as motorpocket011:
    # Cylinder023 → Cylinder023 (new body)
    with BuildSketch(Plane(origin=(8, 40, 0), x_dir=(1, 0, 0), z_dir=(0, 0, 1))):
        Circle(CYLINDER023_R)
    extrude(amount=CYLINDER023_DEPTH)

    # Sketch023 → Pocket023 (cut)
    with BuildSketch(Plane(origin=(8, 40, 1.8), x_dir=(1, 0, 0), z_dir=(0, 0, 1))):
        Circle(SKETCH023_R)
    extrude(amount=-POCKET023_DEPTH, mode=Mode.SUBTRACT)


with BuildPart() as motorpocket012:
    # Cylinder024 → Cylinder024 (new body)
    with BuildSketch(Plane(origin=(24, 48, 0), x_dir=(1, 0, 0), z_dir=(0, 0, 1))):
        Circle(CYLINDER024_R)
    extrude(amount=CYLINDER024_DEPTH)

    # Sketch024 → Pocket024 (cut)
    with BuildSketch(Plane(origin=(24, 48, 1.8), x_dir=(1, 0, 0), z_dir=(0, 0, 1))):
        Circle(SKETCH024_R)
    extrude(amount=-POCKET024_DEPTH, mode=Mode.SUBTRACT)


with BuildPart() as motorpocket013:
    # Cylinder025 → Cylinder025 (new body)
    with BuildSketch(Plane(origin=(16, 48, 0), x_dir=(1, 0, 0), z_dir=(0, 0, 1))):
        Circle(CYLINDER025_R)
    extrude(amount=CYLINDER025_DEPTH)

    # Sketch025 → Pocket025 (cut)
    with BuildSketch(Plane(origin=(16, 48, 1.8), x_dir=(1, 0, 0), z_dir=(0, 0, 1))):
        Circle(SKETCH025_R)
    extrude(amount=-POCKET025_DEPTH, mode=Mode.SUBTRACT)


with BuildPart() as motorpocket014:
    # Cylinder026 → Cylinder026 (new body)
    with BuildSketch(Plane(origin=(0, 48, 0), x_dir=(1, 0, 0), z_dir=(0, 0, 1))):
        Circle(CYLINDER026_R)
    extrude(amount=CYLINDER026_DEPTH)

    # Sketch026 → Pocket026 (cut)
    with BuildSketch(Plane(origin=(0, 48, 1.8), x_dir=(1, 0, 0), z_dir=(0, 0, 1))):
        Circle(SKETCH026_R)
    extrude(amount=-POCKET026_DEPTH, mode=Mode.SUBTRACT)


with BuildPart() as motorpocket015:
    # Cylinder027 → Cylinder027 (new body)
    with BuildSketch(Plane(origin=(8, 48, 0), x_dir=(1, 0, 0), z_dir=(0, 0, 1))):
        Circle(CYLINDER027_R)
    extrude(amount=CYLINDER027_DEPTH)

    # Sketch027 → Pocket027 (cut)
    with BuildSketch(Plane(origin=(8, 48, 1.8), x_dir=(1, 0, 0), z_dir=(0, 0, 1))):
        Circle(SKETCH027_R)
    extrude(amount=-POCKET027_DEPTH, mode=Mode.SUBTRACT)


with BuildPart() as raft:
    # Box → Box (new body)
    with BuildSketch(Plane(origin=(0, -5, 0), x_dir=(1, 0, 0), z_dir=(0, 0, 1))):
        with Locations((0.1, 29)):
            Rectangle(BOX_W, BOX_H)
    extrude(amount=BOX_DEPTH)


with BuildPart() as raft001:
    # Box001 → Box001 (new body)
    with BuildSketch(Plane(origin=(8, -5, 0), x_dir=(1, 0, 0), z_dir=(0, 0, 1))):
        with Locations((0.1, 29)):
            Rectangle(BOX001_W, BOX001_H)
    extrude(amount=BOX001_DEPTH)


with BuildPart() as raft002:
    # Box002 → Box002 (new body)
    with BuildSketch(Plane(origin=(16, -5, 0), x_dir=(1, 0, 0), z_dir=(0, 0, 1))):
        with Locations((0.1, 29)):
            Rectangle(BOX002_W, BOX002_H)
    extrude(amount=BOX002_DEPTH)


with BuildPart() as raft003:
    # Box003 → Box003 (new body)
    with BuildSketch(Plane(origin=(24, -5, 0), x_dir=(1, 0, 0), z_dir=(0, 0, 1))):
        with Locations((0.1, 29)):
            Rectangle(BOX003_W, BOX003_H)
    extrude(amount=BOX003_DEPTH)


with BuildPart() as raft004:
    # Box004 → Box004 (new body)
    with BuildSketch(Plane(origin=(-5, 0, 0), x_dir=(1, 0, 0), z_dir=(0, 0, 1))):
        with Locations((17, 0.1)):
            Rectangle(BOX004_W, BOX004_H)
    extrude(amount=BOX004_DEPTH)


with BuildPart() as raft005:
    # Box005 → Box005 (new body)
    with BuildSketch(Plane(origin=(-5, 8, 0), x_dir=(1, 0, 0), z_dir=(0, 0, 1))):
        with Locations((17, 0.1)):
            Rectangle(BOX005_W, BOX005_H)
    extrude(amount=BOX005_DEPTH)


with BuildPart() as raft006:
    # Box006 → Box006 (new body)
    with BuildSketch(Plane(origin=(-5, 16, 0), x_dir=(1, 0, 0), z_dir=(0, 0, 1))):
        with Locations((17, 0.1)):
            Rectangle(BOX006_W, BOX006_H)
    extrude(amount=BOX006_DEPTH)


with BuildPart() as raft007:
    # Box007 → Box007 (new body)
    with BuildSketch(Plane(origin=(-5, 24, 0), x_dir=(1, 0, 0), z_dir=(0, 0, 1))):
        with Locations((17, 0.1)):
            Rectangle(BOX007_W, BOX007_H)
    extrude(amount=BOX007_DEPTH)


with BuildPart() as raft008:
    # Box008 → Box008 (new body)
    with BuildSketch(Plane(origin=(-5, 32, 0), x_dir=(1, 0, 0), z_dir=(0, 0, 1))):
        with Locations((17, 0.1)):
            Rectangle(BOX008_W, BOX008_H)
    extrude(amount=BOX008_DEPTH)


with BuildPart() as raft009:
    # Box009 → Box009 (new body)
    with BuildSketch(Plane(origin=(-5, 40, 0), x_dir=(1, 0, 0), z_dir=(0, 0, 1))):
        with Locations((17, 0.1)):
            Rectangle(BOX009_W, BOX009_H)
    extrude(amount=BOX009_DEPTH)


with BuildPart() as raft010:
    # Box010 → Box010 (new body)
    with BuildSketch(Plane(origin=(-5, 48, 0), x_dir=(1, 0, 0), z_dir=(0, 0, 1))):
        with Locations((17, 0.1)):
            Rectangle(BOX010_W, BOX010_H)
    extrude(amount=BOX010_DEPTH)


solid = Compound([pocket.part, pocket001.part, pocket002.part, pocket003.part, pocket004.part, pocket005.part, pocket006.part, pocket007.part, pocket008.part, pocket009.part, pocket010.part, pocket011.part, motorpocket.part, motorpocket001.part, motorpocket002.part, motorpocket003.part, motorpocket004.part, motorpocket005.part, motorpocket006.part, motorpocket007.part, motorpocket008.part, motorpocket009.part, motorpocket010.part, motorpocket011.part, motorpocket012.part, motorpocket013.part, motorpocket014.part, motorpocket015.part, raft.part, raft001.part, raft002.part, raft003.part, raft004.part, raft005.part, raft006.part, raft007.part, raft008.part, raft009.part, raft010.part])
